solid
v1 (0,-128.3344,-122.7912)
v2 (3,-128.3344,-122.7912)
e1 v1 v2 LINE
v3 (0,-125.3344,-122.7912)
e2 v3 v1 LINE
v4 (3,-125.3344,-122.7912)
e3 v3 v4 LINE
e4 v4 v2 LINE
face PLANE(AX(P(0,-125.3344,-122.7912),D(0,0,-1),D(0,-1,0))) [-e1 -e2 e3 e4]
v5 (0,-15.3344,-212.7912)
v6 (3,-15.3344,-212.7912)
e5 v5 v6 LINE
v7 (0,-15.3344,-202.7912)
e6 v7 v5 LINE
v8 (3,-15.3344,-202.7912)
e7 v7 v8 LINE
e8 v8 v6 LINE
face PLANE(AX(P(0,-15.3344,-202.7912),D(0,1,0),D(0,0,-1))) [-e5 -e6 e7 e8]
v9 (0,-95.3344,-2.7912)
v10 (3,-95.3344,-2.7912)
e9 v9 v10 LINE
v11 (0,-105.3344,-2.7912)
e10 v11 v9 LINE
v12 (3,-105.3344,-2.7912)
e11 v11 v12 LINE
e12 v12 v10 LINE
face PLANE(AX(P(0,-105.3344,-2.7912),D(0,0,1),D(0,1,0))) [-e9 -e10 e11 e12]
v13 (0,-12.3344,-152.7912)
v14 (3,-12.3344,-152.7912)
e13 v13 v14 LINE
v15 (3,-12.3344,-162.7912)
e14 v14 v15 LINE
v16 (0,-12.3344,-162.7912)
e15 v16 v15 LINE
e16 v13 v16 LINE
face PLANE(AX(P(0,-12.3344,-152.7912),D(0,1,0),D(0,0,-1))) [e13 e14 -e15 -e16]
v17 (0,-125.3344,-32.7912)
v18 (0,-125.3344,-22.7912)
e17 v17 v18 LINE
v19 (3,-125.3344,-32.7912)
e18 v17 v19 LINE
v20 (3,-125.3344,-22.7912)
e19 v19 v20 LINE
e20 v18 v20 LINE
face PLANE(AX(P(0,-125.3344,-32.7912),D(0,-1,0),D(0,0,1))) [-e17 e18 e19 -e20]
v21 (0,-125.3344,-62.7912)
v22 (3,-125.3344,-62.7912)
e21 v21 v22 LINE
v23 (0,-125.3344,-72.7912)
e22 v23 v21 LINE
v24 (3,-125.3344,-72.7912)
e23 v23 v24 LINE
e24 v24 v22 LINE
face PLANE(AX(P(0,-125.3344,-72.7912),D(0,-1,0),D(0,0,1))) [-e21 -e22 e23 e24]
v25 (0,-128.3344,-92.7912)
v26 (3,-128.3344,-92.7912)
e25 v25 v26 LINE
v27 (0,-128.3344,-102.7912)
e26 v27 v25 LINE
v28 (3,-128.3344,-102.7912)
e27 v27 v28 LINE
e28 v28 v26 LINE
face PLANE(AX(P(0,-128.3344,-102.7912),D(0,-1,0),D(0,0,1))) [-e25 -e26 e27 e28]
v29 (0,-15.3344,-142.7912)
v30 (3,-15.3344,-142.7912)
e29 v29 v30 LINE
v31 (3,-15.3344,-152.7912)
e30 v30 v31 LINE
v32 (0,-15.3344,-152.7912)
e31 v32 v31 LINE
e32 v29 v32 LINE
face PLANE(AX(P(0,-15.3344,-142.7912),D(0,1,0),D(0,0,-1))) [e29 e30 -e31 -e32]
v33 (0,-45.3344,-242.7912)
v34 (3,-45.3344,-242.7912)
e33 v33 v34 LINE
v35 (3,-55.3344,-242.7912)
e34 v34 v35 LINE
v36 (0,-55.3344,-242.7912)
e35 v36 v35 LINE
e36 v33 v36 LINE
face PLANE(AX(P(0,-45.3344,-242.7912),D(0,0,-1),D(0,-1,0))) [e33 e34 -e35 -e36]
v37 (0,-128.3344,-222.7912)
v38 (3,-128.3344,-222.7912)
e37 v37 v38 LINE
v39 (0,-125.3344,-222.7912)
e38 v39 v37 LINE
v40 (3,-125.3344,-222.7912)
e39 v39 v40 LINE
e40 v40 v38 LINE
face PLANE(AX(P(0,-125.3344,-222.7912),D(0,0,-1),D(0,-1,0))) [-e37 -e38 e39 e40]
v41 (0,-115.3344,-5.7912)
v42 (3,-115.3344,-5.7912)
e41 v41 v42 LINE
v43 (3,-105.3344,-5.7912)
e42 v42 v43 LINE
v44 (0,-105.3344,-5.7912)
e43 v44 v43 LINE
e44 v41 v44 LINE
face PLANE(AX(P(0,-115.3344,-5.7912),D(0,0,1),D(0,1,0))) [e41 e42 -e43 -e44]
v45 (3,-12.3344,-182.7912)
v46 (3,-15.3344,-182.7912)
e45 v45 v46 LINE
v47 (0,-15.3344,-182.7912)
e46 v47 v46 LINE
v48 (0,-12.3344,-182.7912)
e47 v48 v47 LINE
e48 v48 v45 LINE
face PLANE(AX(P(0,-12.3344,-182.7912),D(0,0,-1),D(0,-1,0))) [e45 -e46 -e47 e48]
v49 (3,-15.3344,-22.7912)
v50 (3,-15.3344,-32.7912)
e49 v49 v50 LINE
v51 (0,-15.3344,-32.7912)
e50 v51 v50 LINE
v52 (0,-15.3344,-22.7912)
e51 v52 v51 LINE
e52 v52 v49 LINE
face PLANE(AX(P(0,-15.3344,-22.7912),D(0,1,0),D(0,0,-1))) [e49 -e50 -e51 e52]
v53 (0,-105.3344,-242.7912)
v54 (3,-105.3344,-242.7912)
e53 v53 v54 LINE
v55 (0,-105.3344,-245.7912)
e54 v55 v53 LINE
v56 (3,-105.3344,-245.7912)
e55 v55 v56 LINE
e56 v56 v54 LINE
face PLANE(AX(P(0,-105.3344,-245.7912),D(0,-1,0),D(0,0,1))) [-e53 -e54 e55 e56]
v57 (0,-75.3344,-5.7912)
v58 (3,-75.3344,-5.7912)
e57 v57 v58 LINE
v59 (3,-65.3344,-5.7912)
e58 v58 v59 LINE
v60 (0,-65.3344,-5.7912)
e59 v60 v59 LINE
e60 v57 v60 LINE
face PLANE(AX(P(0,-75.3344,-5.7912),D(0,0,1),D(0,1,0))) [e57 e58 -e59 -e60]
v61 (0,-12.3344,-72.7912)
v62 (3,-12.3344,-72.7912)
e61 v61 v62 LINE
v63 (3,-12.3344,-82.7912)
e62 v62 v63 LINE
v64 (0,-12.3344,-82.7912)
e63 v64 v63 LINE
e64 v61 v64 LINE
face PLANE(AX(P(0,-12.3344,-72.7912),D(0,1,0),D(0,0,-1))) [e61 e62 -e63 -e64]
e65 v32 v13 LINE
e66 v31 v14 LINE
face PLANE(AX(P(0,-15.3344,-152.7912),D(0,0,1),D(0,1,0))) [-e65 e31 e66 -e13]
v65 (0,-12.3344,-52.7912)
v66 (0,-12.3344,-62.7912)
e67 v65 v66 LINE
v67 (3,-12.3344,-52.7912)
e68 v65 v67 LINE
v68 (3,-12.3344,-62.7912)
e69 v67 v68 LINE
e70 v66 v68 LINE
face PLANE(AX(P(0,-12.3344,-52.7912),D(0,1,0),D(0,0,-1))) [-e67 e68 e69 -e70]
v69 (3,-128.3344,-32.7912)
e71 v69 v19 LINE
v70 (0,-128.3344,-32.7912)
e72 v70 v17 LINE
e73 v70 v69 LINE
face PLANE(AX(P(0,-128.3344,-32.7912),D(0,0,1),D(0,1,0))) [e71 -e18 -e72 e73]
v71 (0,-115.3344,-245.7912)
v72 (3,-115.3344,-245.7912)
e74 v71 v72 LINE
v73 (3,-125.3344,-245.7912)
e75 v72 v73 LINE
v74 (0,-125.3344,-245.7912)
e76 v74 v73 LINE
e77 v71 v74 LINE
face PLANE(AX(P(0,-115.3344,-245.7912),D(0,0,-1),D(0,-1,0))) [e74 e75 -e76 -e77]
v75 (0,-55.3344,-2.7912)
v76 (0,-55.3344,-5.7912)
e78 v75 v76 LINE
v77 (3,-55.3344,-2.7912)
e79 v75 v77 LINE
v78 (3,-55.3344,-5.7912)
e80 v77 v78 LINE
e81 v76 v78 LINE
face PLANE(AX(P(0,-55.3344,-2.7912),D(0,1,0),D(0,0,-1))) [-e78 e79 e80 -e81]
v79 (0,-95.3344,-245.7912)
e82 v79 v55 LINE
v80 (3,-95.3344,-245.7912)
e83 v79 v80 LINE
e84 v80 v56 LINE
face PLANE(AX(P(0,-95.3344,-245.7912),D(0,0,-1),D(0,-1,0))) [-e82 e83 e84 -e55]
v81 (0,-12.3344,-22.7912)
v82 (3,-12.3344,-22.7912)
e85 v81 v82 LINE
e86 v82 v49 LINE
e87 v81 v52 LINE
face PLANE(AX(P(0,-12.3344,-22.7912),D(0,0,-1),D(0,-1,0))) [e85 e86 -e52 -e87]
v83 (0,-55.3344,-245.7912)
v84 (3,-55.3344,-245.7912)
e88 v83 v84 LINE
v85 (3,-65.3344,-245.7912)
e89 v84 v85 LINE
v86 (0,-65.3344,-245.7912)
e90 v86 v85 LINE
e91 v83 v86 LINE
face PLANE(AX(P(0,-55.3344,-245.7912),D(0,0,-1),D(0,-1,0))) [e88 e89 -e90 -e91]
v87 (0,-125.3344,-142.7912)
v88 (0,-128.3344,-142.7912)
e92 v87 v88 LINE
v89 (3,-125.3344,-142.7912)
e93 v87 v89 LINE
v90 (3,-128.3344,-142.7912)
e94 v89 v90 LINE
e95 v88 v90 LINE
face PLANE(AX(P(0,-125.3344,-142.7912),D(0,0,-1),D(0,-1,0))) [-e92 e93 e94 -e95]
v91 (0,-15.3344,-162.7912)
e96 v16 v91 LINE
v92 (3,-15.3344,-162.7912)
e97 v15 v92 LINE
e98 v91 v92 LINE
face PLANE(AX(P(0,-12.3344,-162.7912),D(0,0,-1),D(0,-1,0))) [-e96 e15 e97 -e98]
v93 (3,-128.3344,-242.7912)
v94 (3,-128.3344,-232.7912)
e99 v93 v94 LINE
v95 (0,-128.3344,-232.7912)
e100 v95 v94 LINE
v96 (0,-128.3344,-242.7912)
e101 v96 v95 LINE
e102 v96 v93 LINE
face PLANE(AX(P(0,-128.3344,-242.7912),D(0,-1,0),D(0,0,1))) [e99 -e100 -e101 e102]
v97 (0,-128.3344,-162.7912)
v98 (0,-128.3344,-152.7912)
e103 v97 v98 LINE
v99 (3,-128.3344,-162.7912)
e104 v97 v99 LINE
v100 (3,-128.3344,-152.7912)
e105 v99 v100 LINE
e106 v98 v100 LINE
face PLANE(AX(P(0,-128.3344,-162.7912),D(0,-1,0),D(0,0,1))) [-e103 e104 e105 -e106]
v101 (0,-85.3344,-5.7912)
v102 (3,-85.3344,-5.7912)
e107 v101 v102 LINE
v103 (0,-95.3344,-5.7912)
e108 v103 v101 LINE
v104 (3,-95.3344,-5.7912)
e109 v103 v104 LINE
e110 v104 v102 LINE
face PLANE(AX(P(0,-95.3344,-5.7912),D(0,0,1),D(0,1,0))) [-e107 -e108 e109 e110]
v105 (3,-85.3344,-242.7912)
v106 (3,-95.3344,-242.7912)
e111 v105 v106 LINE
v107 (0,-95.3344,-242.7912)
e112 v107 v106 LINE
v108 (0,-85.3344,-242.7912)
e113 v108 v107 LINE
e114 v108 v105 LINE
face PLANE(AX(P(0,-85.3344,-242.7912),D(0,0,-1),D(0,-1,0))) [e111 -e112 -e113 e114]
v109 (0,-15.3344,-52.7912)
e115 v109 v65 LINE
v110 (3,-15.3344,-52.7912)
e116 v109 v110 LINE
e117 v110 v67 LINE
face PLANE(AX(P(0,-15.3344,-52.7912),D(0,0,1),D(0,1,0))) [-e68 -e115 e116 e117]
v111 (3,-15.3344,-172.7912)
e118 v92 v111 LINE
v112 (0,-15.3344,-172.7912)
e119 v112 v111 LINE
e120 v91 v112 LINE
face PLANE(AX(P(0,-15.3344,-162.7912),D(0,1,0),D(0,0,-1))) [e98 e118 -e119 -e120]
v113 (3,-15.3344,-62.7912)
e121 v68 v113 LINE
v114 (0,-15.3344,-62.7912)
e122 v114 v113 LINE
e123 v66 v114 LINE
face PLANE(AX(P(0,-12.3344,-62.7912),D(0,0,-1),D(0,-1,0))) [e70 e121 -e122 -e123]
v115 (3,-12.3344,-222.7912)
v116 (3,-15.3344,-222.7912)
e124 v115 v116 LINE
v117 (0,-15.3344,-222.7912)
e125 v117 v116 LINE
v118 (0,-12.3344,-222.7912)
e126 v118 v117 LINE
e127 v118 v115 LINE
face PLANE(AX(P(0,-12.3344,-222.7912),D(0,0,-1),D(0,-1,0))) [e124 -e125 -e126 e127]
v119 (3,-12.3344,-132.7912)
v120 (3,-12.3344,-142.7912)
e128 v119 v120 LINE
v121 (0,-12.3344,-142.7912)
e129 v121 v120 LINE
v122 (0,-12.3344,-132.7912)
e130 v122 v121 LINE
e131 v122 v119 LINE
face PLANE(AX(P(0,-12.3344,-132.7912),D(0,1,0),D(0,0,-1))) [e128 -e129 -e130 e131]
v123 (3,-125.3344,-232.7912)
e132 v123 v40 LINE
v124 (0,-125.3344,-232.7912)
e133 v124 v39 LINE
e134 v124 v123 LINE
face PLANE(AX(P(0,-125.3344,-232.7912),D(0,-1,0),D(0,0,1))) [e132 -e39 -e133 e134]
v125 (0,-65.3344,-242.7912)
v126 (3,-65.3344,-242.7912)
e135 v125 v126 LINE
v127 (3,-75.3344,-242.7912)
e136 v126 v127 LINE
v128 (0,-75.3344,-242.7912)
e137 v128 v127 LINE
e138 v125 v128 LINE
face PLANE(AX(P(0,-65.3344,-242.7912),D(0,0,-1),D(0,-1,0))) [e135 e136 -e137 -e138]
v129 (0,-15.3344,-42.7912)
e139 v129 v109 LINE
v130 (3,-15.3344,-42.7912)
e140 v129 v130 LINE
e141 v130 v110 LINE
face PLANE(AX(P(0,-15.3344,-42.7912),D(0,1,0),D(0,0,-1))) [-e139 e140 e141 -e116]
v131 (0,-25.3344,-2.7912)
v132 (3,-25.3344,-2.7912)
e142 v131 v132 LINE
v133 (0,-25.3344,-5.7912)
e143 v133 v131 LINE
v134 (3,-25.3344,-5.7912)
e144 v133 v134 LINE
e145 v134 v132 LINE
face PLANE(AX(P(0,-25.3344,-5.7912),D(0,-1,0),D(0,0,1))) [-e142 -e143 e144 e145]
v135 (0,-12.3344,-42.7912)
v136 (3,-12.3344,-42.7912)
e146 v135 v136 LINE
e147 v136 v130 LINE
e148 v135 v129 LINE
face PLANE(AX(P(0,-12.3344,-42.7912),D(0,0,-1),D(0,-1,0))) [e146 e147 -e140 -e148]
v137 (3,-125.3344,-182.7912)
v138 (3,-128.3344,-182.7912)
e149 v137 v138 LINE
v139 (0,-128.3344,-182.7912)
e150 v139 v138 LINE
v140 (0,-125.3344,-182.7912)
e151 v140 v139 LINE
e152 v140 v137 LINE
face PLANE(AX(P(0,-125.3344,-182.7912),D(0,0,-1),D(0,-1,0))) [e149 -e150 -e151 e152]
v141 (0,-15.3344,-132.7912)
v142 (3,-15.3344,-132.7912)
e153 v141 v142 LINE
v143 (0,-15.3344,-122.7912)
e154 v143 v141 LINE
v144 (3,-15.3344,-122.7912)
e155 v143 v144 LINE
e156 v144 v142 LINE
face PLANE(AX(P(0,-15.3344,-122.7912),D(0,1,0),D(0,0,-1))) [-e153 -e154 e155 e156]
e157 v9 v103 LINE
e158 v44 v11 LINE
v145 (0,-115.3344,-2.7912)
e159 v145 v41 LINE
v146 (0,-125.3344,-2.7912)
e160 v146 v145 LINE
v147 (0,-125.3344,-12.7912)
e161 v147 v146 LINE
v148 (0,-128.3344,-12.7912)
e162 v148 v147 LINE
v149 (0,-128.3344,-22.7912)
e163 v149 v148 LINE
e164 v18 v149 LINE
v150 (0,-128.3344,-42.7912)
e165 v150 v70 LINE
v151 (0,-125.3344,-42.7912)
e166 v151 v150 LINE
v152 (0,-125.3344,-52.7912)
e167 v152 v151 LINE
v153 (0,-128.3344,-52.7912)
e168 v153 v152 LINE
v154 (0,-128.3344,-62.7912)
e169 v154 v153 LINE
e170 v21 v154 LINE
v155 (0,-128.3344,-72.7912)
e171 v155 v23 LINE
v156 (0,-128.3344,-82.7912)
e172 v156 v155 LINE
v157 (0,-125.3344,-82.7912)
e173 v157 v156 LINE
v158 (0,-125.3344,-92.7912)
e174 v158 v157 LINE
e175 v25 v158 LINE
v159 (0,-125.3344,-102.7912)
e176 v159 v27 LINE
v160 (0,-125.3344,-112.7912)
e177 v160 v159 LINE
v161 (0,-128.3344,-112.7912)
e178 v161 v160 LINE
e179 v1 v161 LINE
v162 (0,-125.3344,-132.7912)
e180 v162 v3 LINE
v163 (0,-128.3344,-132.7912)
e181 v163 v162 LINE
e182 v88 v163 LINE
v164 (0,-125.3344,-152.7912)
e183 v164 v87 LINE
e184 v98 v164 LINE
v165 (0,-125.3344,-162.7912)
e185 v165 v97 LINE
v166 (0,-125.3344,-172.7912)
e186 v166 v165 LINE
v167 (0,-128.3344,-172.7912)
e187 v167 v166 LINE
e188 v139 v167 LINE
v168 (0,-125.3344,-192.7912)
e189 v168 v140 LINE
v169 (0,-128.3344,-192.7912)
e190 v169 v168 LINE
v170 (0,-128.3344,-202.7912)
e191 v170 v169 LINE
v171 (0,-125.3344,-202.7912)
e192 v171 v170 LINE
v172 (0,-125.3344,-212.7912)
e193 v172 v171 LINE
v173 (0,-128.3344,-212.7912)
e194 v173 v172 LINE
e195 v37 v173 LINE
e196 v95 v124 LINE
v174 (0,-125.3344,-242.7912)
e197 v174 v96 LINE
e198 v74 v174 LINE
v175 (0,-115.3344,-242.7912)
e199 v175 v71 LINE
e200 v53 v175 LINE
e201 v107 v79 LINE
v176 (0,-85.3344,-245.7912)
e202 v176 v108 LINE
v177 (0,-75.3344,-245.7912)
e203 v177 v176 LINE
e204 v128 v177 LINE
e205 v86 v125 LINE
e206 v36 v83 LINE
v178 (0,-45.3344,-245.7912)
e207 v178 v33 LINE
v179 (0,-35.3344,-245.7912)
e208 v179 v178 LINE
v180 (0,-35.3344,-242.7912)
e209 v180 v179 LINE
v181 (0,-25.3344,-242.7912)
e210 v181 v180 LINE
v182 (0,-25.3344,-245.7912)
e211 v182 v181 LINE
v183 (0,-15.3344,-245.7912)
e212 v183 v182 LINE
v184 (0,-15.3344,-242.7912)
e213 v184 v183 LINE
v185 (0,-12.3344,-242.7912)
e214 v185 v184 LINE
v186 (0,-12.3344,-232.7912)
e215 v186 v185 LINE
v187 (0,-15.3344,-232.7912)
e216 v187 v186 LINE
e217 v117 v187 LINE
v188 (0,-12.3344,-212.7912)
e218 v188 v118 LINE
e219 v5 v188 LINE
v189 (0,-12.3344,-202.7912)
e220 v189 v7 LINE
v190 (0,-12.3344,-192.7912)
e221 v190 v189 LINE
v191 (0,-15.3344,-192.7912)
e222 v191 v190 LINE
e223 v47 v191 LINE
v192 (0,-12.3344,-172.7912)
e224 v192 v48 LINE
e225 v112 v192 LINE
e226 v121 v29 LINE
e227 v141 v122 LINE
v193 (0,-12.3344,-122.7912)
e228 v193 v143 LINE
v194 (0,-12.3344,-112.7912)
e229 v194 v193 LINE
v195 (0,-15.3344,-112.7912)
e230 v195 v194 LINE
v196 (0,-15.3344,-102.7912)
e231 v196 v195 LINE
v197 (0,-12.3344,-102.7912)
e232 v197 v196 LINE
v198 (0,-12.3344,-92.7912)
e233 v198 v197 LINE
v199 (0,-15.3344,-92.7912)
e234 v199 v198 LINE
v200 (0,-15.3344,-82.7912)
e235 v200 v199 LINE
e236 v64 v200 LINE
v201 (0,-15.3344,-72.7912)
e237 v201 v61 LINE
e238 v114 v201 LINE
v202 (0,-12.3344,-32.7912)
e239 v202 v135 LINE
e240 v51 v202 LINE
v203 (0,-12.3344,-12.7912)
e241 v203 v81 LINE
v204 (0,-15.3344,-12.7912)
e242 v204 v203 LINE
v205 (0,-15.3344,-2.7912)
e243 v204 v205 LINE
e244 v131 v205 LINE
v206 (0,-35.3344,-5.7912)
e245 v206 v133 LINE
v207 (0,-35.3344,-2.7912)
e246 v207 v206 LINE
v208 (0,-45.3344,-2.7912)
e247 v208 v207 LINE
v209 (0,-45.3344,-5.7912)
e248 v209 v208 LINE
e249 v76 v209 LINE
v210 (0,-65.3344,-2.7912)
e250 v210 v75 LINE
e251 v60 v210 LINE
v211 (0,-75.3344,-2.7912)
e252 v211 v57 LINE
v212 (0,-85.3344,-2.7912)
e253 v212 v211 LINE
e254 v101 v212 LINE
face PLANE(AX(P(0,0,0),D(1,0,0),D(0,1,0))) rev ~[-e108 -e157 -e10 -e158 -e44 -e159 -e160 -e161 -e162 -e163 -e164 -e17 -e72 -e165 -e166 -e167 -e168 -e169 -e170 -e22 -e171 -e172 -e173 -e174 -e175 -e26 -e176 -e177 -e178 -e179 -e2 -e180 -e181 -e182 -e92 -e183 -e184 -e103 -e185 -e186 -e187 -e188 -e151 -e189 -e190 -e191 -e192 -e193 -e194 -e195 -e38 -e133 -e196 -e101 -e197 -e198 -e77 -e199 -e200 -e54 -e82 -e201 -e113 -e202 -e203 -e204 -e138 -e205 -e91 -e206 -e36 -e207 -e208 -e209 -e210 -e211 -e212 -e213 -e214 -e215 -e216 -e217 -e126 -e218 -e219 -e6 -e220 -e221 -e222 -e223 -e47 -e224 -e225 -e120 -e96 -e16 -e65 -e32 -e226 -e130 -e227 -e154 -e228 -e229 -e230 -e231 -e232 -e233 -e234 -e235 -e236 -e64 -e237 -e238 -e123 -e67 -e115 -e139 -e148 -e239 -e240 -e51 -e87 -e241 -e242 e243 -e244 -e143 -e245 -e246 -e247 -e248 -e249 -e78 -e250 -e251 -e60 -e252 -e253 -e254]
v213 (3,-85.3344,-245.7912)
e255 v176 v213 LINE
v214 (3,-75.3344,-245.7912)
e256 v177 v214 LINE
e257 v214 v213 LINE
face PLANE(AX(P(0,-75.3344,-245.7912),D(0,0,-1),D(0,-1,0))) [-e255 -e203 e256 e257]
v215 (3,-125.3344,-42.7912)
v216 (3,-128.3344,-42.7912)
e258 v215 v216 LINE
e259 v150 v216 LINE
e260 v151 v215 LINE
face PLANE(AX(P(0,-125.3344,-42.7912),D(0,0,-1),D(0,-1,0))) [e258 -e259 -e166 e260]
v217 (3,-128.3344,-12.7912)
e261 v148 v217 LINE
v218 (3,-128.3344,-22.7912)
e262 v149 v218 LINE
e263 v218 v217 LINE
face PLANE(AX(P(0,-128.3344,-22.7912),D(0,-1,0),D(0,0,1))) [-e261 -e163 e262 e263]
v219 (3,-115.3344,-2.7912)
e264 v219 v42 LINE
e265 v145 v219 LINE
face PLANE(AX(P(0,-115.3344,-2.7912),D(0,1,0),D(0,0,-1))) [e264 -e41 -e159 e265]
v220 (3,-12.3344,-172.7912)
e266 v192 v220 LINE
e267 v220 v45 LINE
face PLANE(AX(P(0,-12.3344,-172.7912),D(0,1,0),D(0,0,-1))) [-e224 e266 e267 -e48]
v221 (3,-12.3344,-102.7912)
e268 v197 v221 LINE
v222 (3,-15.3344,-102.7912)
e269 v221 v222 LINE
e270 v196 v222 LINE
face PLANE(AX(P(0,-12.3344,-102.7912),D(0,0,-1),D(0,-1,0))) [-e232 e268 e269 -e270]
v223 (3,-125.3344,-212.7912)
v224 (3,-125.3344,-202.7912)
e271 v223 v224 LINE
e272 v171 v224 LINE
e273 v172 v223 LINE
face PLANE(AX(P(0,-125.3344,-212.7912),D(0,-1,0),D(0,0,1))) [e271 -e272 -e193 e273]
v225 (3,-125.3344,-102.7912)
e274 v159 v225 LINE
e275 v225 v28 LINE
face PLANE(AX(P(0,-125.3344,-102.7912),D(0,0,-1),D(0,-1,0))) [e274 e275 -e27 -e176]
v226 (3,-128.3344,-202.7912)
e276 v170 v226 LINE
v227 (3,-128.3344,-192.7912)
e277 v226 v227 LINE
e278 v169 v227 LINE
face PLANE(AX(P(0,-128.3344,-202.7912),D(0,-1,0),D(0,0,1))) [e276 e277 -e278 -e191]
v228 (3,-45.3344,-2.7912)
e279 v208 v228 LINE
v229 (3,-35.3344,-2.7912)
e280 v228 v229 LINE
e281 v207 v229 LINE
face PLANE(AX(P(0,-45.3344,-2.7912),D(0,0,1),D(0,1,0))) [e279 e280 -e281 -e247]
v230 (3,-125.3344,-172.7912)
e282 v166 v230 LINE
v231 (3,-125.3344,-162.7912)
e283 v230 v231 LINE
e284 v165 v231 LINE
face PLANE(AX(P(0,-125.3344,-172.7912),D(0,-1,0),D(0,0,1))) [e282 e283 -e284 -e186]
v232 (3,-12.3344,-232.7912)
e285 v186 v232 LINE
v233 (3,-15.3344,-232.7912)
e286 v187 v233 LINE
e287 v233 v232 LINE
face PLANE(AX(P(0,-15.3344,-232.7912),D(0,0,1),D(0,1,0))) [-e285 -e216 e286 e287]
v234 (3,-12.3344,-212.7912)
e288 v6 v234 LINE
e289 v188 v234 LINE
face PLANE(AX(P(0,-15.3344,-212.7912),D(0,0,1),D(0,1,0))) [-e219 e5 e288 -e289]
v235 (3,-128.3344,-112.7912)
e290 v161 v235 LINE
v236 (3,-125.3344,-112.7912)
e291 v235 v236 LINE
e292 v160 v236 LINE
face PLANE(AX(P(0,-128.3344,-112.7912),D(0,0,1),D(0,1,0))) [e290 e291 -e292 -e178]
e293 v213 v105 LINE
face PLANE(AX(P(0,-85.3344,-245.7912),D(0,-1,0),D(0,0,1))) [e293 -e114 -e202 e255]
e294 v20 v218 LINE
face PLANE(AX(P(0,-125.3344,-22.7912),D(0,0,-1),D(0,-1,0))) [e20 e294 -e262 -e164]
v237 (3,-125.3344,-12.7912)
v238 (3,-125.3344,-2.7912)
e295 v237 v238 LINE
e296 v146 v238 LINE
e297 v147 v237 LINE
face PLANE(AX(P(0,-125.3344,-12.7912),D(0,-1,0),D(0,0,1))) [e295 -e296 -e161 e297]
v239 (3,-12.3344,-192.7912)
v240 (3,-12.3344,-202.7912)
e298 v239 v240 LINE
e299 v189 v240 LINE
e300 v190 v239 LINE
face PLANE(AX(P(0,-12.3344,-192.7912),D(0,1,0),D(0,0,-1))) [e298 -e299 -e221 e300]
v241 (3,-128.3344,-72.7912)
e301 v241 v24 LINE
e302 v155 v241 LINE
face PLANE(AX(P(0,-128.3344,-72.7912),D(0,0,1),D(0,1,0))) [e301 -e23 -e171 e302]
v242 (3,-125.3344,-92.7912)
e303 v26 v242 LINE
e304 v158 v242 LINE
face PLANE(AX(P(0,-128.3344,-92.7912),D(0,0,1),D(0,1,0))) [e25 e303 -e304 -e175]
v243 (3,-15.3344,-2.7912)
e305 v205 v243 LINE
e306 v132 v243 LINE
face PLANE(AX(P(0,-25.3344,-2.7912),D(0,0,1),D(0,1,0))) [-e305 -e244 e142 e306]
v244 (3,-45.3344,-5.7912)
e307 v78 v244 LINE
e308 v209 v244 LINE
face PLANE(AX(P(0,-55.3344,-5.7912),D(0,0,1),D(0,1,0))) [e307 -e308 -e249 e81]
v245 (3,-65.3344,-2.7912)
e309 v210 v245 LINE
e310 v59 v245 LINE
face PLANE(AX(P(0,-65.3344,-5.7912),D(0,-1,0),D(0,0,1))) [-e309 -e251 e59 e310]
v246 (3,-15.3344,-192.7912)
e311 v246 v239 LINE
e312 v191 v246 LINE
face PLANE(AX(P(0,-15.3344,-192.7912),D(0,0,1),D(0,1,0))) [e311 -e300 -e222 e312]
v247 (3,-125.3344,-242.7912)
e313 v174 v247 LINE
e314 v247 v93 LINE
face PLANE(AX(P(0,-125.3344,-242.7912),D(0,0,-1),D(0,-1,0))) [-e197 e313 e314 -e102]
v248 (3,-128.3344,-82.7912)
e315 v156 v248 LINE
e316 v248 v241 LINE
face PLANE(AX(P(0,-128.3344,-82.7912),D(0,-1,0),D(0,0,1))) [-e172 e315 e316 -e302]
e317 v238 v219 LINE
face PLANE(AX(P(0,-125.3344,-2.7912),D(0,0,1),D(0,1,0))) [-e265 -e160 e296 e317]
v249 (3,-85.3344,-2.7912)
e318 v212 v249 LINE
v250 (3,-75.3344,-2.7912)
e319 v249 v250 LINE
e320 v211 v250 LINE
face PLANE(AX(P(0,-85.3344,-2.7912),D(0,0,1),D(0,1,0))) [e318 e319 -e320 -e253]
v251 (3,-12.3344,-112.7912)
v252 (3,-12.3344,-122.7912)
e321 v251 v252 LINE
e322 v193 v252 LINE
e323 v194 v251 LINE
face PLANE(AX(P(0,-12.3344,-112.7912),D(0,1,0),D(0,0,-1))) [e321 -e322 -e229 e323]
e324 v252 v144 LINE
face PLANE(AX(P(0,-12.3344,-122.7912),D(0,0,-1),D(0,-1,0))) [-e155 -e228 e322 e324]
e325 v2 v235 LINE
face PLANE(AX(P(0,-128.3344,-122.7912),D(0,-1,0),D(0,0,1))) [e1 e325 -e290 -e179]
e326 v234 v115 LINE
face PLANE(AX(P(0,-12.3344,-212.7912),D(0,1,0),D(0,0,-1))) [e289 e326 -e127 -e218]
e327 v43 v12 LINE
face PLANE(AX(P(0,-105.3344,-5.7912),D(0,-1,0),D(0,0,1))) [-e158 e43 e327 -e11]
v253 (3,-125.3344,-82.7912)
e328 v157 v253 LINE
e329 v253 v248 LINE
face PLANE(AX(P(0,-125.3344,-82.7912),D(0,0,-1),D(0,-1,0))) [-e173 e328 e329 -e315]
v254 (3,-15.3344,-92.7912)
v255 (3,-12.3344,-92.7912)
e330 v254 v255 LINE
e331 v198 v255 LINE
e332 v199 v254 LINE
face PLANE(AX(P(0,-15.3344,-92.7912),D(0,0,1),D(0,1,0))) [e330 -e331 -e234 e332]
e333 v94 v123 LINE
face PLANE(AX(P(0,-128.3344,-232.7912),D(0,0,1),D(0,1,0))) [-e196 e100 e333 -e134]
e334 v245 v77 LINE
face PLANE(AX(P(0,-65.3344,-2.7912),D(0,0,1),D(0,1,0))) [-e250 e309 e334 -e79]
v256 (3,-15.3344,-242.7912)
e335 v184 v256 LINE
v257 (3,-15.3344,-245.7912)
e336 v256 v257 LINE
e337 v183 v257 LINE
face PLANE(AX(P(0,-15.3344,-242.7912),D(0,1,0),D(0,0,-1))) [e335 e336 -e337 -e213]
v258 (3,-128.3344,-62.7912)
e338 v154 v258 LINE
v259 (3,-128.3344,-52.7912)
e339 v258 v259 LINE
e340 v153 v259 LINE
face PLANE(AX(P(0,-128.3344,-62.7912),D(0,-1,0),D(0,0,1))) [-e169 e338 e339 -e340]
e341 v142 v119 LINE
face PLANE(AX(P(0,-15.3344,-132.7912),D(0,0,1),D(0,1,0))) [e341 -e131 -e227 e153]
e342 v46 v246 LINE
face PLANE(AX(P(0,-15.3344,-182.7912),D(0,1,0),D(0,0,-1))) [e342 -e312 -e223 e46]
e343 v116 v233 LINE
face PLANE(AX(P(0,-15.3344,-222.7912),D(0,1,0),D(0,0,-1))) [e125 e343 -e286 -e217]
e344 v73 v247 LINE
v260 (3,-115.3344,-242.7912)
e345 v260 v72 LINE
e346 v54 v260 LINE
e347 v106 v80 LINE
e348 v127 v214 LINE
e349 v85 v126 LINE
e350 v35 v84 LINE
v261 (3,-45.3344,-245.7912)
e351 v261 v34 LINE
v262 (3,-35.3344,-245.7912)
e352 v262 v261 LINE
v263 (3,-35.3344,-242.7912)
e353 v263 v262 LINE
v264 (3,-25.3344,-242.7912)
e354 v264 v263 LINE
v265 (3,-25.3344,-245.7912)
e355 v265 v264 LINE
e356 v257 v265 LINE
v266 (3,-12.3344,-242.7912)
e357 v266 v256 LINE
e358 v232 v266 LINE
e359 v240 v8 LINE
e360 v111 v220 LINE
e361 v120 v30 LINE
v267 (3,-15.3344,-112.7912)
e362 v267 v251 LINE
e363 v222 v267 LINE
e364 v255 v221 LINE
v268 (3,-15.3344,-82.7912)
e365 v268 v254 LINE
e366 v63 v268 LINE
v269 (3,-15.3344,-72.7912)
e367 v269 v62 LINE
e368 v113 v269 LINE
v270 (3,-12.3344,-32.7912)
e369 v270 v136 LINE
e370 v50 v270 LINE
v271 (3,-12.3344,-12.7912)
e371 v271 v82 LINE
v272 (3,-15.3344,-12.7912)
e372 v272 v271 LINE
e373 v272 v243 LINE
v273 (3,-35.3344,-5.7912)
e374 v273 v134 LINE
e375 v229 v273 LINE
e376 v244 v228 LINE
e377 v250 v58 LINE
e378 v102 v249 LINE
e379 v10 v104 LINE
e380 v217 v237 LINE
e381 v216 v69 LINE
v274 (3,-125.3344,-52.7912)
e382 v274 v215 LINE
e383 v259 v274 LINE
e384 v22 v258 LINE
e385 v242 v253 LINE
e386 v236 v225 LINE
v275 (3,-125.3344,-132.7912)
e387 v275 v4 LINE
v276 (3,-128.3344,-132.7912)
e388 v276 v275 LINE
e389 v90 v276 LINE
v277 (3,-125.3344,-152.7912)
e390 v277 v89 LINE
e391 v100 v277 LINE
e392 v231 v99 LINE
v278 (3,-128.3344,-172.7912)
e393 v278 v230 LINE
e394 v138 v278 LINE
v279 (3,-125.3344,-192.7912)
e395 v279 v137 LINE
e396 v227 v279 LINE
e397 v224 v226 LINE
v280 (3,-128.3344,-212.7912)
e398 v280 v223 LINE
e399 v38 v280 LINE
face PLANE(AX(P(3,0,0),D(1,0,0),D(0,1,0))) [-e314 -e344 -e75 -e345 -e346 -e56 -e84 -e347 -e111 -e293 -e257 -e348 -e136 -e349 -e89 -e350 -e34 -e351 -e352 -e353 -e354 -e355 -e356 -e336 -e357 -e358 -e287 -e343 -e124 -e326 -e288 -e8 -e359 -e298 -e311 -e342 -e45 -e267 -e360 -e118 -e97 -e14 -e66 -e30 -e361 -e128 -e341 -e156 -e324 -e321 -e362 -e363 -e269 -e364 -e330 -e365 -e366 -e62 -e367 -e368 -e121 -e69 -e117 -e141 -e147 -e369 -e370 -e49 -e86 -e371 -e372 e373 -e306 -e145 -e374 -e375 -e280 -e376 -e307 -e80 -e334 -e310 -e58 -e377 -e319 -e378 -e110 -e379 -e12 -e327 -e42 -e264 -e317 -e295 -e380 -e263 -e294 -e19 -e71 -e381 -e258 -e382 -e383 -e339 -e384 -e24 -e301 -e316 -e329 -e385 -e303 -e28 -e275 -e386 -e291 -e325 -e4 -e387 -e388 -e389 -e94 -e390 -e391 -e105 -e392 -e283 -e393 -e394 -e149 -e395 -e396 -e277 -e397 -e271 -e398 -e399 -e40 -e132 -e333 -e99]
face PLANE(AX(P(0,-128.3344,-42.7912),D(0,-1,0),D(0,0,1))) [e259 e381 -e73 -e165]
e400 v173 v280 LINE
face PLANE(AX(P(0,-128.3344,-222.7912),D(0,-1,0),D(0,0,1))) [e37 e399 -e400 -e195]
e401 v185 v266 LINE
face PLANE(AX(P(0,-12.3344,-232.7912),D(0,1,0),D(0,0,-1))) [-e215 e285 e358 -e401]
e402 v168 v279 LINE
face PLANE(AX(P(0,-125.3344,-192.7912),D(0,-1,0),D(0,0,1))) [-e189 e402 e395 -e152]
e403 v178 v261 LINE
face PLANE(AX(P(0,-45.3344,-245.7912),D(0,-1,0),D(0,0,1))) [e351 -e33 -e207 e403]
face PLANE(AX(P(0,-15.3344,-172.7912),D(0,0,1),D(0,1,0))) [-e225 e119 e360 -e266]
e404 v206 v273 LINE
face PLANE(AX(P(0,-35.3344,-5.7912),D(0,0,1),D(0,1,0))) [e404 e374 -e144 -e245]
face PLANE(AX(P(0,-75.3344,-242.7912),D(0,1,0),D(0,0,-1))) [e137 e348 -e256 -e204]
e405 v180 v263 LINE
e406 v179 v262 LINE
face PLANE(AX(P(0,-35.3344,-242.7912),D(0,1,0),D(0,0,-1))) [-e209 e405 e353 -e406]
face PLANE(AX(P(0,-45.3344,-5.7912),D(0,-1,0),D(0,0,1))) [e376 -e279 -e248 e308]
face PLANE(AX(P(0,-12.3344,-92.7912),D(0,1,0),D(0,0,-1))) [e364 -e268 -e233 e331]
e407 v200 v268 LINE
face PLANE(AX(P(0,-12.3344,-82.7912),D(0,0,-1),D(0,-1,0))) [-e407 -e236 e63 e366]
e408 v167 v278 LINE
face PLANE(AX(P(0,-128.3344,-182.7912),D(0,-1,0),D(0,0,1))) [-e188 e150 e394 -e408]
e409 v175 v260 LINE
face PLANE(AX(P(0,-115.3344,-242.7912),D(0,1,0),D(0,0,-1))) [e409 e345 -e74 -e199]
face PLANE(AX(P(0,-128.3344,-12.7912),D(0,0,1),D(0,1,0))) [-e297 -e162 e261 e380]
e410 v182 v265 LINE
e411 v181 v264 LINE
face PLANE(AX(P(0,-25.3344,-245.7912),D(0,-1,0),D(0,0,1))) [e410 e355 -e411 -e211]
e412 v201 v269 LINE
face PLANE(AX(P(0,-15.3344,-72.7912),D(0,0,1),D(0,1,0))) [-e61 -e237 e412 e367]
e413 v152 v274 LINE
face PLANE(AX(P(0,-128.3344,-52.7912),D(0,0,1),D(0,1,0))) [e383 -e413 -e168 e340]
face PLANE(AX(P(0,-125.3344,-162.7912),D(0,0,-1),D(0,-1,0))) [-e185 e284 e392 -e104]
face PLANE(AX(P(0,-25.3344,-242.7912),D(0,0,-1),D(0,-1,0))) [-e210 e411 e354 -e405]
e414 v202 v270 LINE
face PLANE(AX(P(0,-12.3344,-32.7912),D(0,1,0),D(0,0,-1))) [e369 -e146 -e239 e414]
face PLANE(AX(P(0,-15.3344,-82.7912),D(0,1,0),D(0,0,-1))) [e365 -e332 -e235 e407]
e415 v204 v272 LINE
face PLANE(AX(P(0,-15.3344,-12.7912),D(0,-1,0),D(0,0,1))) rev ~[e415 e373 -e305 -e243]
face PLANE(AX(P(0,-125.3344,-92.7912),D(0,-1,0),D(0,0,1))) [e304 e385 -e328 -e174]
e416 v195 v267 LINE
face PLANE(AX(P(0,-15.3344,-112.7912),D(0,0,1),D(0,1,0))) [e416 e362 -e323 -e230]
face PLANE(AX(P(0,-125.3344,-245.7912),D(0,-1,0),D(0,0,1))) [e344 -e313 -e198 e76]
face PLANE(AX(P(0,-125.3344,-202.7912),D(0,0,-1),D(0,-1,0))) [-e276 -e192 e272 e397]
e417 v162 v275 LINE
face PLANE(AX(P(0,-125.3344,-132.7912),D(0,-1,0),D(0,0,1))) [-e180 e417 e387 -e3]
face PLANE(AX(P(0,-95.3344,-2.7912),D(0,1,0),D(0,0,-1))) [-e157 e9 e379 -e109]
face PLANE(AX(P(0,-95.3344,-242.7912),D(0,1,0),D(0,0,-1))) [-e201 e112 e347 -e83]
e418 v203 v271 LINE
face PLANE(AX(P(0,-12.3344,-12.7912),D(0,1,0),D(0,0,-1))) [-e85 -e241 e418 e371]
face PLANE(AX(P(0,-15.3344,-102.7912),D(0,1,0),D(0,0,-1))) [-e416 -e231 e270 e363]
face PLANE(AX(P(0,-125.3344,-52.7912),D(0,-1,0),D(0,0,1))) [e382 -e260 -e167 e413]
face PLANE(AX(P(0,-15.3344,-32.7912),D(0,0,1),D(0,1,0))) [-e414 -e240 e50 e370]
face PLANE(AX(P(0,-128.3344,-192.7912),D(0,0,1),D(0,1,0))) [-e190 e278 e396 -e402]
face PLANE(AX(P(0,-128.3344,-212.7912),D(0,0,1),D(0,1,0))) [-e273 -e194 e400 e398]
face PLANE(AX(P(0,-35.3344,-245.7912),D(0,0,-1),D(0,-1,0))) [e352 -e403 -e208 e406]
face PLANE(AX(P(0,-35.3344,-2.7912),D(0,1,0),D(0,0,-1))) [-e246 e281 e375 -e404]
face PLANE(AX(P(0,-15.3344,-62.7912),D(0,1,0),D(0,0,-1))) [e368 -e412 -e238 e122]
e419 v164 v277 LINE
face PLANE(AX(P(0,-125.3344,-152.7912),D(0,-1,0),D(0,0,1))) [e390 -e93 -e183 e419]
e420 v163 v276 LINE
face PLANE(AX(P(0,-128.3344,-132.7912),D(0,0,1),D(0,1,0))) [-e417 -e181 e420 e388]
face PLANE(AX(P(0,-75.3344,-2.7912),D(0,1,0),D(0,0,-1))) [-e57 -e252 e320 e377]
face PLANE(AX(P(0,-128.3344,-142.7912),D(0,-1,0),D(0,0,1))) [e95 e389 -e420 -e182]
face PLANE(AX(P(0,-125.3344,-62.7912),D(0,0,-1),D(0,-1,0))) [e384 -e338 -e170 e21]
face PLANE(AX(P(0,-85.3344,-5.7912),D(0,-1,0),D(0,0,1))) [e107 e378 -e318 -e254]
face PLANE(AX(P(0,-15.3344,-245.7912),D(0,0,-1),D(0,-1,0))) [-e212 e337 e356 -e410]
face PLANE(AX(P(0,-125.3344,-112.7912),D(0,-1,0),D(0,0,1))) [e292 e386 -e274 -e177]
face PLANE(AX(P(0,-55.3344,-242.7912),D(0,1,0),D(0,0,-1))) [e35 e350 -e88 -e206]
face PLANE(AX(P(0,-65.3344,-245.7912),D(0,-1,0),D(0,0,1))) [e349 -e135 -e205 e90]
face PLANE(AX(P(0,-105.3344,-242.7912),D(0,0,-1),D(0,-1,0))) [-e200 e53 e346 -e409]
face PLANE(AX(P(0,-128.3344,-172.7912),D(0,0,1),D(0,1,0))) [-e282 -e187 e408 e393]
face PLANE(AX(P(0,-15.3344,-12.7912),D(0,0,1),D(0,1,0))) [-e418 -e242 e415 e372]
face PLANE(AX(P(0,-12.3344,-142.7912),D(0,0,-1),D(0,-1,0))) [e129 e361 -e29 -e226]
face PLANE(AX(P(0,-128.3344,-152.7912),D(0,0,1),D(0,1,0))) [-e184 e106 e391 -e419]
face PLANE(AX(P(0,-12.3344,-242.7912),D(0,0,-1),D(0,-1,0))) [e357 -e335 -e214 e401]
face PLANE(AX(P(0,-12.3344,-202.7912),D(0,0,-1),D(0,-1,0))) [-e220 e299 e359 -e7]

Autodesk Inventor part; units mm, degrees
ref_plane "YZ Plane" through (0, 0, 0) normal (1, 0, 0) x (0, 1, 0)
ref_plane "XZ Plane" through (0, 0, 0) normal (0, 1, 0) x (-1, 0, 0)
ref_plane "XY Plane" through (0, 0, 0) normal (0, 0, 1) x (1, 0, 0)
sketch "Sketch1" plane through (0, 0, 0) normal (1, 0, 0) x (0, 1, 0)
  line L0 (-15.3344, -12.7912) -> (-12.3344, -12.7912)
  line L1 (-12.3344, -12.7912) -> (-12.3344, -22.7912)
  line L2 (-12.3344, -22.7912) -> (-15.3344, -22.7912)
  line L3 (-15.3344, -22.7912) -> (-15.3344, -32.7912)
  line L4 (-15.3344, -32.7912) -> (-12.3344, -32.7912)
  line L5 (-12.3344, -32.7912) -> (-12.3344, -42.7912)
  line L6 (-12.3344, -42.7912) -> (-15.3344, -42.7912)
  line L7 (-15.3344, -42.7912) -> (-15.3344, -52.7912)
  line L8 (-15.3344, -52.7912) -> (-12.3344, -52.7912)
  line L9 (-12.3344, -52.7912) -> (-12.3344, -62.7912)
  line L10 (-12.3344, -62.7912) -> (-15.3344, -62.7912)
  line L11 (-15.3344, -62.7912) -> (-15.3344, -72.7912)
  line L12 (-15.3344, -72.7912) -> (-12.3344, -72.7912)
  line L13 (-12.3344, -72.7912) -> (-12.3344, -82.7912)
  line L14 (-12.3344, -82.7912) -> (-15.3344, -82.7912)
  line L15 (-15.3344, -82.7912) -> (-15.3344, -92.7912)
  line L16 (-15.3344, -92.7912) -> (-12.3344, -92.7912)
  line L17 (-12.3344, -92.7912) -> (-12.3344, -102.7912)
  line L18 (-12.3344, -102.7912) -> (-15.3344, -102.7912)
  line L19 (-15.3344, -102.7912) -> (-15.3344, -112.7912)
  line L20 (-15.3344, -112.7912) -> (-12.3344, -112.7912)
  line L21 (-12.3344, -112.7912) -> (-12.3344, -122.7912)
  line L22 (-12.3344, -122.7912) -> (-15.3344, -122.7912)
  line L23 (-12.3344, -122.7912) -> (-15.3344, -122.7912)
  line L24 (-12.3344, -122.7912) -> (-15.3344, -122.7912)
  line L25 (-15.3344, -122.7912) -> (-15.3344, -132.7912)
  line L26 (-15.3344, -132.7912) -> (-12.3344, -132.7912)
  line L27 (-12.3344, -132.7912) -> (-12.3344, -142.7912)
  line L28 (-12.3344, -142.7912) -> (-15.3344, -142.7912)
  line L29 (-15.3344, -142.7912) -> (-15.3344, -152.7912)
  line L30 (-15.3344, -152.7912) -> (-12.3344, -152.7912)
  line L31 (-12.3344, -152.7912) -> (-12.3344, -162.7912)
  line L32 (-12.3344, -162.7912) -> (-15.3344, -162.7912)
  line L33 (-15.3344, -162.7912) -> (-15.3344, -172.7912)
  line L34 (-15.3344, -172.7912) -> (-12.3344, -172.7912)
  line L35 (-12.3344, -172.7912) -> (-12.3344, -182.7912)
  line L36 (-12.3344, -182.7912) -> (-15.3344, -182.7912)
  line L37 (-15.3344, -182.7912) -> (-15.3344, -192.7912)
  line L38 (-15.3344, -192.7912) -> (-12.3344, -192.7912)
  line L39 (-12.3344, -192.7912) -> (-12.3344, -202.7912)
  line L40 (-12.3344, -202.7912) -> (-15.3344, -202.7912)
  line L41 (-15.3344, -202.7912) -> (-15.3344, -212.7912)
  line L42 (-15.3344, -212.7912) -> (-12.3344, -212.7912)
  line L43 (-12.3344, -212.7912) -> (-12.3344, -222.7912)
  line L44 (-12.3344, -222.7912) -> (-15.3344, -222.7912)
  line L45 (-15.3344, -222.7912) -> (-15.3344, -232.7912)
  line L46 (-15.3344, -232.7912) -> (-12.3344, -232.7912)
  line L47 (-12.3344, -232.7912) -> (-12.3344, -242.7912)
  line L48 (-12.3344, -242.7912) -> (-15.3344, -242.7912)
  line L49 (-15.3344, -12.7912) -> (-15.3344, -2.7912)
  line L50 (-15.3344, -242.7912) -> (-15.3344, -245.7912)
  line L51 (-15.3344, -245.7912) -> (-25.3344, -245.7912)
  line L52 (-25.3344, -245.7912) -> (-25.3344, -242.7912)
  line L53 (-25.3344, -242.7912) -> (-35.3344, -242.7912)
  line L54 (-35.3344, -242.7912) -> (-35.3344, -245.7912)
  line L55 (-35.3344, -245.7912) -> (-45.3344, -245.7912)
  line L56 (-45.3344, -245.7912) -> (-45.3344, -242.7912)
  line L57 (-45.3344, -242.7912) -> (-55.3344, -242.7912)
  line L58 (-55.3344, -242.7912) -> (-55.3344, -245.7912)
  line L59 (-55.3344, -245.7912) -> (-65.3344, -245.7912)
  line L60 (-65.3344, -245.7912) -> (-65.3344, -242.7912)
  line L61 (-65.3344, -242.7912) -> (-75.3344, -242.7912)
  line L62 (-75.3344, -242.7912) -> (-75.3344, -245.7912)
  line L63 (-75.3344, -245.7912) -> (-85.3344, -245.7912)
  line L64 (-85.3344, -245.7912) -> (-85.3344, -242.7912)
  line L65 (-85.3344, -242.7912) -> (-95.3344, -242.7912)
  line L66 (-95.3344, -242.7912) -> (-95.3344, -245.7912)
  line L67 (-95.3344, -245.7912) -> (-105.3344, -245.7912)
  line L68 (-105.3344, -245.7912) -> (-105.3344, -242.7912)
  line L69 (-105.3344, -242.7912) -> (-115.3344, -242.7912)
  line L70 (-115.3344, -242.7912) -> (-115.3344, -245.7912)
  line L71 (-115.3344, -245.7912) -> (-125.3344, -245.7912)
  line L72 (-125.3344, -245.7912) -> (-125.3344, -242.7912)
  line L73 (-125.3344, -242.7912) -> (-128.3344, -242.7912)
  line L74 (-128.3344, -242.7912) -> (-128.3344, -232.7912)
  line L75 (-128.3344, -232.7912) -> (-125.3344, -232.7912)
  line L76 (-125.3344, -232.7912) -> (-125.3344, -222.7912)
  line L77 (-125.3344, -222.7912) -> (-128.3344, -222.7912)
  line L78 (-128.3344, -222.7912) -> (-128.3344, -212.7912)
  line L79 (-128.3344, -212.7912) -> (-125.3344, -212.7912)
  line L80 (-125.3344, -212.7912) -> (-125.3344, -202.7912)
  line L81 (-125.3344, -202.7912) -> (-128.3344, -202.7912)
  line L82 (-128.3344, -202.7912) -> (-128.3344, -192.7912)
  line L83 (-128.3344, -192.7912) -> (-125.3344, -192.7912)
  line L84 (-125.3344, -192.7912) -> (-125.3344, -182.7912)
  line L85 (-125.3344, -182.7912) -> (-128.3344, -182.7912)
  line L86 (-128.3344, -182.7912) -> (-128.3344, -172.7912)
  line L87 (-128.3344, -172.7912) -> (-125.3344, -172.7912)
  line L88 (-125.3344, -172.7912) -> (-125.3344, -162.7912)
  line L89 (-125.3344, -162.7912) -> (-128.3344, -162.7912)
  line L90 (-128.3344, -162.7912) -> (-128.3344, -152.7912)
  line L91 (-128.3344, -152.7912) -> (-125.3344, -152.7912)
  line L92 (-125.3344, -152.7912) -> (-125.3344, -142.7912)
  line L93 (-125.3344, -142.7912) -> (-128.3344, -142.7912)
  line L94 (-128.3344, -142.7912) -> (-128.3344, -132.7912)
  line L95 (-128.3344, -132.7912) -> (-125.3344, -132.7912)
  line L96 (-125.3344, -132.7912) -> (-125.3344, -122.7912)
  line L97 (-125.3344, -122.7912) -> (-128.3344, -122.7912)
  line L98 (-128.3344, -122.7912) -> (-128.3344, -112.7912)
  line L99 (-128.3344, -112.7912) -> (-125.3344, -112.7912)
  line L100 (-125.3344, -112.7912) -> (-125.3344, -102.7912)
  line L101 (-125.3344, -102.7912) -> (-128.3344, -102.7912)
  line L102 (-128.3344, -102.7912) -> (-128.3344, -92.7912)
  line L103 (-128.3344, -92.7912) -> (-125.3344, -92.7912)
  line L104 (-125.3344, -92.7912) -> (-125.3344, -82.7912)
  line L105 (-125.3344, -82.7912) -> (-128.3344, -82.7912)
  line L106 (-128.3344, -82.7912) -> (-128.3344, -72.7912)
  line L107 (-128.3344, -72.7912) -> (-125.3344, -72.7912)
  line L108 (-125.3344, -72.7912) -> (-125.3344, -62.7912)
  line L109 (-125.3344, -62.7912) -> (-128.3344, -62.7912)
  line L110 (-128.3344, -62.7912) -> (-128.3344, -52.7912)
  line L111 (-128.3344, -52.7912) -> (-125.3344, -52.7912)
  line L112 (-125.3344, -52.7912) -> (-125.3344, -42.7912)
  line L113 (-125.3344, -42.7912) -> (-128.3344, -42.7912)
  line L114 (-128.3344, -42.7912) -> (-128.3344, -32.7912)
  line L115 (-128.3344, -32.7912) -> (-125.3344, -32.7912)
  line L116 (-125.3344, -32.7912) -> (-125.3344, -22.7912)
  line L117 (-125.3344, -22.7912) -> (-128.3344, -22.7912)
  line L118 (-128.3344, -22.7912) -> (-128.3344, -12.7912)
  line L119 (-128.3344, -12.7912) -> (-125.3344, -12.7912)
  line L120 (-125.3344, -12.7912) -> (-125.3344, -2.7912)
  line L121 (-125.3344, -2.7912) -> (-115.3344, -2.7912)
  line L122 (-115.3344, -2.7912) -> (-115.3344, -5.7912)
  line L123 (-115.3344, -5.7912) -> (-105.3344, -5.7912)
  line L124 (-105.3344, -5.7912) -> (-105.3344, -2.7912)
  line L125 (-105.3344, -2.7912) -> (-95.3344, -2.7912)
  line L126 (-95.3344, -2.7912) -> (-95.3344, -5.7912)
  line L127 (-95.3344, -5.7912) -> (-85.3344, -5.7912)
  line L128 (-85.3344, -5.7912) -> (-85.3344, -2.7912)
  line L129 (-85.3344, -2.7912) -> (-75.3344, -2.7912)
  line L130 (-75.3344, -2.7912) -> (-75.3344, -5.7912)
  line L131 (-75.3344, -5.7912) -> (-65.3344, -5.7912)
  line L132 (-65.3344, -5.7912) -> (-65.3344, -2.7912)
  line L133 (-65.3344, -2.7912) -> (-55.3344, -2.7912)
  line L134 (-55.3344, -2.7912) -> (-55.3344, -5.7912)
  line L135 (-55.3344, -5.7912) -> (-45.3344, -5.7912)
  line L136 (-45.3344, -5.7912) -> (-45.3344, -2.7912)
  line L137 (-45.3344, -2.7912) -> (-35.3344, -2.7912)
  line L138 (-35.3344, -2.7912) -> (-35.3344, -5.7912)
  line L139 (-35.3344, -5.7912) -> (-25.3344, -5.7912)
  line L140 (-25.3344, -5.7912) -> (-25.3344, -2.7912)
  line L141 (-25.3344, -2.7912) -> (-15.3344, -2.7912)
  dimension "d91" = 240
  dimension "d92" = 110
  dimension "d93" = 10
extrude "Extrusion1" add sketch "Sketch1" along normal blind 3
ref_plane "Work Plane1" through (1.5, 0, 0) normal (1, 0, 0) x (0, 0, -1)
properties part number "caja_lateral"
